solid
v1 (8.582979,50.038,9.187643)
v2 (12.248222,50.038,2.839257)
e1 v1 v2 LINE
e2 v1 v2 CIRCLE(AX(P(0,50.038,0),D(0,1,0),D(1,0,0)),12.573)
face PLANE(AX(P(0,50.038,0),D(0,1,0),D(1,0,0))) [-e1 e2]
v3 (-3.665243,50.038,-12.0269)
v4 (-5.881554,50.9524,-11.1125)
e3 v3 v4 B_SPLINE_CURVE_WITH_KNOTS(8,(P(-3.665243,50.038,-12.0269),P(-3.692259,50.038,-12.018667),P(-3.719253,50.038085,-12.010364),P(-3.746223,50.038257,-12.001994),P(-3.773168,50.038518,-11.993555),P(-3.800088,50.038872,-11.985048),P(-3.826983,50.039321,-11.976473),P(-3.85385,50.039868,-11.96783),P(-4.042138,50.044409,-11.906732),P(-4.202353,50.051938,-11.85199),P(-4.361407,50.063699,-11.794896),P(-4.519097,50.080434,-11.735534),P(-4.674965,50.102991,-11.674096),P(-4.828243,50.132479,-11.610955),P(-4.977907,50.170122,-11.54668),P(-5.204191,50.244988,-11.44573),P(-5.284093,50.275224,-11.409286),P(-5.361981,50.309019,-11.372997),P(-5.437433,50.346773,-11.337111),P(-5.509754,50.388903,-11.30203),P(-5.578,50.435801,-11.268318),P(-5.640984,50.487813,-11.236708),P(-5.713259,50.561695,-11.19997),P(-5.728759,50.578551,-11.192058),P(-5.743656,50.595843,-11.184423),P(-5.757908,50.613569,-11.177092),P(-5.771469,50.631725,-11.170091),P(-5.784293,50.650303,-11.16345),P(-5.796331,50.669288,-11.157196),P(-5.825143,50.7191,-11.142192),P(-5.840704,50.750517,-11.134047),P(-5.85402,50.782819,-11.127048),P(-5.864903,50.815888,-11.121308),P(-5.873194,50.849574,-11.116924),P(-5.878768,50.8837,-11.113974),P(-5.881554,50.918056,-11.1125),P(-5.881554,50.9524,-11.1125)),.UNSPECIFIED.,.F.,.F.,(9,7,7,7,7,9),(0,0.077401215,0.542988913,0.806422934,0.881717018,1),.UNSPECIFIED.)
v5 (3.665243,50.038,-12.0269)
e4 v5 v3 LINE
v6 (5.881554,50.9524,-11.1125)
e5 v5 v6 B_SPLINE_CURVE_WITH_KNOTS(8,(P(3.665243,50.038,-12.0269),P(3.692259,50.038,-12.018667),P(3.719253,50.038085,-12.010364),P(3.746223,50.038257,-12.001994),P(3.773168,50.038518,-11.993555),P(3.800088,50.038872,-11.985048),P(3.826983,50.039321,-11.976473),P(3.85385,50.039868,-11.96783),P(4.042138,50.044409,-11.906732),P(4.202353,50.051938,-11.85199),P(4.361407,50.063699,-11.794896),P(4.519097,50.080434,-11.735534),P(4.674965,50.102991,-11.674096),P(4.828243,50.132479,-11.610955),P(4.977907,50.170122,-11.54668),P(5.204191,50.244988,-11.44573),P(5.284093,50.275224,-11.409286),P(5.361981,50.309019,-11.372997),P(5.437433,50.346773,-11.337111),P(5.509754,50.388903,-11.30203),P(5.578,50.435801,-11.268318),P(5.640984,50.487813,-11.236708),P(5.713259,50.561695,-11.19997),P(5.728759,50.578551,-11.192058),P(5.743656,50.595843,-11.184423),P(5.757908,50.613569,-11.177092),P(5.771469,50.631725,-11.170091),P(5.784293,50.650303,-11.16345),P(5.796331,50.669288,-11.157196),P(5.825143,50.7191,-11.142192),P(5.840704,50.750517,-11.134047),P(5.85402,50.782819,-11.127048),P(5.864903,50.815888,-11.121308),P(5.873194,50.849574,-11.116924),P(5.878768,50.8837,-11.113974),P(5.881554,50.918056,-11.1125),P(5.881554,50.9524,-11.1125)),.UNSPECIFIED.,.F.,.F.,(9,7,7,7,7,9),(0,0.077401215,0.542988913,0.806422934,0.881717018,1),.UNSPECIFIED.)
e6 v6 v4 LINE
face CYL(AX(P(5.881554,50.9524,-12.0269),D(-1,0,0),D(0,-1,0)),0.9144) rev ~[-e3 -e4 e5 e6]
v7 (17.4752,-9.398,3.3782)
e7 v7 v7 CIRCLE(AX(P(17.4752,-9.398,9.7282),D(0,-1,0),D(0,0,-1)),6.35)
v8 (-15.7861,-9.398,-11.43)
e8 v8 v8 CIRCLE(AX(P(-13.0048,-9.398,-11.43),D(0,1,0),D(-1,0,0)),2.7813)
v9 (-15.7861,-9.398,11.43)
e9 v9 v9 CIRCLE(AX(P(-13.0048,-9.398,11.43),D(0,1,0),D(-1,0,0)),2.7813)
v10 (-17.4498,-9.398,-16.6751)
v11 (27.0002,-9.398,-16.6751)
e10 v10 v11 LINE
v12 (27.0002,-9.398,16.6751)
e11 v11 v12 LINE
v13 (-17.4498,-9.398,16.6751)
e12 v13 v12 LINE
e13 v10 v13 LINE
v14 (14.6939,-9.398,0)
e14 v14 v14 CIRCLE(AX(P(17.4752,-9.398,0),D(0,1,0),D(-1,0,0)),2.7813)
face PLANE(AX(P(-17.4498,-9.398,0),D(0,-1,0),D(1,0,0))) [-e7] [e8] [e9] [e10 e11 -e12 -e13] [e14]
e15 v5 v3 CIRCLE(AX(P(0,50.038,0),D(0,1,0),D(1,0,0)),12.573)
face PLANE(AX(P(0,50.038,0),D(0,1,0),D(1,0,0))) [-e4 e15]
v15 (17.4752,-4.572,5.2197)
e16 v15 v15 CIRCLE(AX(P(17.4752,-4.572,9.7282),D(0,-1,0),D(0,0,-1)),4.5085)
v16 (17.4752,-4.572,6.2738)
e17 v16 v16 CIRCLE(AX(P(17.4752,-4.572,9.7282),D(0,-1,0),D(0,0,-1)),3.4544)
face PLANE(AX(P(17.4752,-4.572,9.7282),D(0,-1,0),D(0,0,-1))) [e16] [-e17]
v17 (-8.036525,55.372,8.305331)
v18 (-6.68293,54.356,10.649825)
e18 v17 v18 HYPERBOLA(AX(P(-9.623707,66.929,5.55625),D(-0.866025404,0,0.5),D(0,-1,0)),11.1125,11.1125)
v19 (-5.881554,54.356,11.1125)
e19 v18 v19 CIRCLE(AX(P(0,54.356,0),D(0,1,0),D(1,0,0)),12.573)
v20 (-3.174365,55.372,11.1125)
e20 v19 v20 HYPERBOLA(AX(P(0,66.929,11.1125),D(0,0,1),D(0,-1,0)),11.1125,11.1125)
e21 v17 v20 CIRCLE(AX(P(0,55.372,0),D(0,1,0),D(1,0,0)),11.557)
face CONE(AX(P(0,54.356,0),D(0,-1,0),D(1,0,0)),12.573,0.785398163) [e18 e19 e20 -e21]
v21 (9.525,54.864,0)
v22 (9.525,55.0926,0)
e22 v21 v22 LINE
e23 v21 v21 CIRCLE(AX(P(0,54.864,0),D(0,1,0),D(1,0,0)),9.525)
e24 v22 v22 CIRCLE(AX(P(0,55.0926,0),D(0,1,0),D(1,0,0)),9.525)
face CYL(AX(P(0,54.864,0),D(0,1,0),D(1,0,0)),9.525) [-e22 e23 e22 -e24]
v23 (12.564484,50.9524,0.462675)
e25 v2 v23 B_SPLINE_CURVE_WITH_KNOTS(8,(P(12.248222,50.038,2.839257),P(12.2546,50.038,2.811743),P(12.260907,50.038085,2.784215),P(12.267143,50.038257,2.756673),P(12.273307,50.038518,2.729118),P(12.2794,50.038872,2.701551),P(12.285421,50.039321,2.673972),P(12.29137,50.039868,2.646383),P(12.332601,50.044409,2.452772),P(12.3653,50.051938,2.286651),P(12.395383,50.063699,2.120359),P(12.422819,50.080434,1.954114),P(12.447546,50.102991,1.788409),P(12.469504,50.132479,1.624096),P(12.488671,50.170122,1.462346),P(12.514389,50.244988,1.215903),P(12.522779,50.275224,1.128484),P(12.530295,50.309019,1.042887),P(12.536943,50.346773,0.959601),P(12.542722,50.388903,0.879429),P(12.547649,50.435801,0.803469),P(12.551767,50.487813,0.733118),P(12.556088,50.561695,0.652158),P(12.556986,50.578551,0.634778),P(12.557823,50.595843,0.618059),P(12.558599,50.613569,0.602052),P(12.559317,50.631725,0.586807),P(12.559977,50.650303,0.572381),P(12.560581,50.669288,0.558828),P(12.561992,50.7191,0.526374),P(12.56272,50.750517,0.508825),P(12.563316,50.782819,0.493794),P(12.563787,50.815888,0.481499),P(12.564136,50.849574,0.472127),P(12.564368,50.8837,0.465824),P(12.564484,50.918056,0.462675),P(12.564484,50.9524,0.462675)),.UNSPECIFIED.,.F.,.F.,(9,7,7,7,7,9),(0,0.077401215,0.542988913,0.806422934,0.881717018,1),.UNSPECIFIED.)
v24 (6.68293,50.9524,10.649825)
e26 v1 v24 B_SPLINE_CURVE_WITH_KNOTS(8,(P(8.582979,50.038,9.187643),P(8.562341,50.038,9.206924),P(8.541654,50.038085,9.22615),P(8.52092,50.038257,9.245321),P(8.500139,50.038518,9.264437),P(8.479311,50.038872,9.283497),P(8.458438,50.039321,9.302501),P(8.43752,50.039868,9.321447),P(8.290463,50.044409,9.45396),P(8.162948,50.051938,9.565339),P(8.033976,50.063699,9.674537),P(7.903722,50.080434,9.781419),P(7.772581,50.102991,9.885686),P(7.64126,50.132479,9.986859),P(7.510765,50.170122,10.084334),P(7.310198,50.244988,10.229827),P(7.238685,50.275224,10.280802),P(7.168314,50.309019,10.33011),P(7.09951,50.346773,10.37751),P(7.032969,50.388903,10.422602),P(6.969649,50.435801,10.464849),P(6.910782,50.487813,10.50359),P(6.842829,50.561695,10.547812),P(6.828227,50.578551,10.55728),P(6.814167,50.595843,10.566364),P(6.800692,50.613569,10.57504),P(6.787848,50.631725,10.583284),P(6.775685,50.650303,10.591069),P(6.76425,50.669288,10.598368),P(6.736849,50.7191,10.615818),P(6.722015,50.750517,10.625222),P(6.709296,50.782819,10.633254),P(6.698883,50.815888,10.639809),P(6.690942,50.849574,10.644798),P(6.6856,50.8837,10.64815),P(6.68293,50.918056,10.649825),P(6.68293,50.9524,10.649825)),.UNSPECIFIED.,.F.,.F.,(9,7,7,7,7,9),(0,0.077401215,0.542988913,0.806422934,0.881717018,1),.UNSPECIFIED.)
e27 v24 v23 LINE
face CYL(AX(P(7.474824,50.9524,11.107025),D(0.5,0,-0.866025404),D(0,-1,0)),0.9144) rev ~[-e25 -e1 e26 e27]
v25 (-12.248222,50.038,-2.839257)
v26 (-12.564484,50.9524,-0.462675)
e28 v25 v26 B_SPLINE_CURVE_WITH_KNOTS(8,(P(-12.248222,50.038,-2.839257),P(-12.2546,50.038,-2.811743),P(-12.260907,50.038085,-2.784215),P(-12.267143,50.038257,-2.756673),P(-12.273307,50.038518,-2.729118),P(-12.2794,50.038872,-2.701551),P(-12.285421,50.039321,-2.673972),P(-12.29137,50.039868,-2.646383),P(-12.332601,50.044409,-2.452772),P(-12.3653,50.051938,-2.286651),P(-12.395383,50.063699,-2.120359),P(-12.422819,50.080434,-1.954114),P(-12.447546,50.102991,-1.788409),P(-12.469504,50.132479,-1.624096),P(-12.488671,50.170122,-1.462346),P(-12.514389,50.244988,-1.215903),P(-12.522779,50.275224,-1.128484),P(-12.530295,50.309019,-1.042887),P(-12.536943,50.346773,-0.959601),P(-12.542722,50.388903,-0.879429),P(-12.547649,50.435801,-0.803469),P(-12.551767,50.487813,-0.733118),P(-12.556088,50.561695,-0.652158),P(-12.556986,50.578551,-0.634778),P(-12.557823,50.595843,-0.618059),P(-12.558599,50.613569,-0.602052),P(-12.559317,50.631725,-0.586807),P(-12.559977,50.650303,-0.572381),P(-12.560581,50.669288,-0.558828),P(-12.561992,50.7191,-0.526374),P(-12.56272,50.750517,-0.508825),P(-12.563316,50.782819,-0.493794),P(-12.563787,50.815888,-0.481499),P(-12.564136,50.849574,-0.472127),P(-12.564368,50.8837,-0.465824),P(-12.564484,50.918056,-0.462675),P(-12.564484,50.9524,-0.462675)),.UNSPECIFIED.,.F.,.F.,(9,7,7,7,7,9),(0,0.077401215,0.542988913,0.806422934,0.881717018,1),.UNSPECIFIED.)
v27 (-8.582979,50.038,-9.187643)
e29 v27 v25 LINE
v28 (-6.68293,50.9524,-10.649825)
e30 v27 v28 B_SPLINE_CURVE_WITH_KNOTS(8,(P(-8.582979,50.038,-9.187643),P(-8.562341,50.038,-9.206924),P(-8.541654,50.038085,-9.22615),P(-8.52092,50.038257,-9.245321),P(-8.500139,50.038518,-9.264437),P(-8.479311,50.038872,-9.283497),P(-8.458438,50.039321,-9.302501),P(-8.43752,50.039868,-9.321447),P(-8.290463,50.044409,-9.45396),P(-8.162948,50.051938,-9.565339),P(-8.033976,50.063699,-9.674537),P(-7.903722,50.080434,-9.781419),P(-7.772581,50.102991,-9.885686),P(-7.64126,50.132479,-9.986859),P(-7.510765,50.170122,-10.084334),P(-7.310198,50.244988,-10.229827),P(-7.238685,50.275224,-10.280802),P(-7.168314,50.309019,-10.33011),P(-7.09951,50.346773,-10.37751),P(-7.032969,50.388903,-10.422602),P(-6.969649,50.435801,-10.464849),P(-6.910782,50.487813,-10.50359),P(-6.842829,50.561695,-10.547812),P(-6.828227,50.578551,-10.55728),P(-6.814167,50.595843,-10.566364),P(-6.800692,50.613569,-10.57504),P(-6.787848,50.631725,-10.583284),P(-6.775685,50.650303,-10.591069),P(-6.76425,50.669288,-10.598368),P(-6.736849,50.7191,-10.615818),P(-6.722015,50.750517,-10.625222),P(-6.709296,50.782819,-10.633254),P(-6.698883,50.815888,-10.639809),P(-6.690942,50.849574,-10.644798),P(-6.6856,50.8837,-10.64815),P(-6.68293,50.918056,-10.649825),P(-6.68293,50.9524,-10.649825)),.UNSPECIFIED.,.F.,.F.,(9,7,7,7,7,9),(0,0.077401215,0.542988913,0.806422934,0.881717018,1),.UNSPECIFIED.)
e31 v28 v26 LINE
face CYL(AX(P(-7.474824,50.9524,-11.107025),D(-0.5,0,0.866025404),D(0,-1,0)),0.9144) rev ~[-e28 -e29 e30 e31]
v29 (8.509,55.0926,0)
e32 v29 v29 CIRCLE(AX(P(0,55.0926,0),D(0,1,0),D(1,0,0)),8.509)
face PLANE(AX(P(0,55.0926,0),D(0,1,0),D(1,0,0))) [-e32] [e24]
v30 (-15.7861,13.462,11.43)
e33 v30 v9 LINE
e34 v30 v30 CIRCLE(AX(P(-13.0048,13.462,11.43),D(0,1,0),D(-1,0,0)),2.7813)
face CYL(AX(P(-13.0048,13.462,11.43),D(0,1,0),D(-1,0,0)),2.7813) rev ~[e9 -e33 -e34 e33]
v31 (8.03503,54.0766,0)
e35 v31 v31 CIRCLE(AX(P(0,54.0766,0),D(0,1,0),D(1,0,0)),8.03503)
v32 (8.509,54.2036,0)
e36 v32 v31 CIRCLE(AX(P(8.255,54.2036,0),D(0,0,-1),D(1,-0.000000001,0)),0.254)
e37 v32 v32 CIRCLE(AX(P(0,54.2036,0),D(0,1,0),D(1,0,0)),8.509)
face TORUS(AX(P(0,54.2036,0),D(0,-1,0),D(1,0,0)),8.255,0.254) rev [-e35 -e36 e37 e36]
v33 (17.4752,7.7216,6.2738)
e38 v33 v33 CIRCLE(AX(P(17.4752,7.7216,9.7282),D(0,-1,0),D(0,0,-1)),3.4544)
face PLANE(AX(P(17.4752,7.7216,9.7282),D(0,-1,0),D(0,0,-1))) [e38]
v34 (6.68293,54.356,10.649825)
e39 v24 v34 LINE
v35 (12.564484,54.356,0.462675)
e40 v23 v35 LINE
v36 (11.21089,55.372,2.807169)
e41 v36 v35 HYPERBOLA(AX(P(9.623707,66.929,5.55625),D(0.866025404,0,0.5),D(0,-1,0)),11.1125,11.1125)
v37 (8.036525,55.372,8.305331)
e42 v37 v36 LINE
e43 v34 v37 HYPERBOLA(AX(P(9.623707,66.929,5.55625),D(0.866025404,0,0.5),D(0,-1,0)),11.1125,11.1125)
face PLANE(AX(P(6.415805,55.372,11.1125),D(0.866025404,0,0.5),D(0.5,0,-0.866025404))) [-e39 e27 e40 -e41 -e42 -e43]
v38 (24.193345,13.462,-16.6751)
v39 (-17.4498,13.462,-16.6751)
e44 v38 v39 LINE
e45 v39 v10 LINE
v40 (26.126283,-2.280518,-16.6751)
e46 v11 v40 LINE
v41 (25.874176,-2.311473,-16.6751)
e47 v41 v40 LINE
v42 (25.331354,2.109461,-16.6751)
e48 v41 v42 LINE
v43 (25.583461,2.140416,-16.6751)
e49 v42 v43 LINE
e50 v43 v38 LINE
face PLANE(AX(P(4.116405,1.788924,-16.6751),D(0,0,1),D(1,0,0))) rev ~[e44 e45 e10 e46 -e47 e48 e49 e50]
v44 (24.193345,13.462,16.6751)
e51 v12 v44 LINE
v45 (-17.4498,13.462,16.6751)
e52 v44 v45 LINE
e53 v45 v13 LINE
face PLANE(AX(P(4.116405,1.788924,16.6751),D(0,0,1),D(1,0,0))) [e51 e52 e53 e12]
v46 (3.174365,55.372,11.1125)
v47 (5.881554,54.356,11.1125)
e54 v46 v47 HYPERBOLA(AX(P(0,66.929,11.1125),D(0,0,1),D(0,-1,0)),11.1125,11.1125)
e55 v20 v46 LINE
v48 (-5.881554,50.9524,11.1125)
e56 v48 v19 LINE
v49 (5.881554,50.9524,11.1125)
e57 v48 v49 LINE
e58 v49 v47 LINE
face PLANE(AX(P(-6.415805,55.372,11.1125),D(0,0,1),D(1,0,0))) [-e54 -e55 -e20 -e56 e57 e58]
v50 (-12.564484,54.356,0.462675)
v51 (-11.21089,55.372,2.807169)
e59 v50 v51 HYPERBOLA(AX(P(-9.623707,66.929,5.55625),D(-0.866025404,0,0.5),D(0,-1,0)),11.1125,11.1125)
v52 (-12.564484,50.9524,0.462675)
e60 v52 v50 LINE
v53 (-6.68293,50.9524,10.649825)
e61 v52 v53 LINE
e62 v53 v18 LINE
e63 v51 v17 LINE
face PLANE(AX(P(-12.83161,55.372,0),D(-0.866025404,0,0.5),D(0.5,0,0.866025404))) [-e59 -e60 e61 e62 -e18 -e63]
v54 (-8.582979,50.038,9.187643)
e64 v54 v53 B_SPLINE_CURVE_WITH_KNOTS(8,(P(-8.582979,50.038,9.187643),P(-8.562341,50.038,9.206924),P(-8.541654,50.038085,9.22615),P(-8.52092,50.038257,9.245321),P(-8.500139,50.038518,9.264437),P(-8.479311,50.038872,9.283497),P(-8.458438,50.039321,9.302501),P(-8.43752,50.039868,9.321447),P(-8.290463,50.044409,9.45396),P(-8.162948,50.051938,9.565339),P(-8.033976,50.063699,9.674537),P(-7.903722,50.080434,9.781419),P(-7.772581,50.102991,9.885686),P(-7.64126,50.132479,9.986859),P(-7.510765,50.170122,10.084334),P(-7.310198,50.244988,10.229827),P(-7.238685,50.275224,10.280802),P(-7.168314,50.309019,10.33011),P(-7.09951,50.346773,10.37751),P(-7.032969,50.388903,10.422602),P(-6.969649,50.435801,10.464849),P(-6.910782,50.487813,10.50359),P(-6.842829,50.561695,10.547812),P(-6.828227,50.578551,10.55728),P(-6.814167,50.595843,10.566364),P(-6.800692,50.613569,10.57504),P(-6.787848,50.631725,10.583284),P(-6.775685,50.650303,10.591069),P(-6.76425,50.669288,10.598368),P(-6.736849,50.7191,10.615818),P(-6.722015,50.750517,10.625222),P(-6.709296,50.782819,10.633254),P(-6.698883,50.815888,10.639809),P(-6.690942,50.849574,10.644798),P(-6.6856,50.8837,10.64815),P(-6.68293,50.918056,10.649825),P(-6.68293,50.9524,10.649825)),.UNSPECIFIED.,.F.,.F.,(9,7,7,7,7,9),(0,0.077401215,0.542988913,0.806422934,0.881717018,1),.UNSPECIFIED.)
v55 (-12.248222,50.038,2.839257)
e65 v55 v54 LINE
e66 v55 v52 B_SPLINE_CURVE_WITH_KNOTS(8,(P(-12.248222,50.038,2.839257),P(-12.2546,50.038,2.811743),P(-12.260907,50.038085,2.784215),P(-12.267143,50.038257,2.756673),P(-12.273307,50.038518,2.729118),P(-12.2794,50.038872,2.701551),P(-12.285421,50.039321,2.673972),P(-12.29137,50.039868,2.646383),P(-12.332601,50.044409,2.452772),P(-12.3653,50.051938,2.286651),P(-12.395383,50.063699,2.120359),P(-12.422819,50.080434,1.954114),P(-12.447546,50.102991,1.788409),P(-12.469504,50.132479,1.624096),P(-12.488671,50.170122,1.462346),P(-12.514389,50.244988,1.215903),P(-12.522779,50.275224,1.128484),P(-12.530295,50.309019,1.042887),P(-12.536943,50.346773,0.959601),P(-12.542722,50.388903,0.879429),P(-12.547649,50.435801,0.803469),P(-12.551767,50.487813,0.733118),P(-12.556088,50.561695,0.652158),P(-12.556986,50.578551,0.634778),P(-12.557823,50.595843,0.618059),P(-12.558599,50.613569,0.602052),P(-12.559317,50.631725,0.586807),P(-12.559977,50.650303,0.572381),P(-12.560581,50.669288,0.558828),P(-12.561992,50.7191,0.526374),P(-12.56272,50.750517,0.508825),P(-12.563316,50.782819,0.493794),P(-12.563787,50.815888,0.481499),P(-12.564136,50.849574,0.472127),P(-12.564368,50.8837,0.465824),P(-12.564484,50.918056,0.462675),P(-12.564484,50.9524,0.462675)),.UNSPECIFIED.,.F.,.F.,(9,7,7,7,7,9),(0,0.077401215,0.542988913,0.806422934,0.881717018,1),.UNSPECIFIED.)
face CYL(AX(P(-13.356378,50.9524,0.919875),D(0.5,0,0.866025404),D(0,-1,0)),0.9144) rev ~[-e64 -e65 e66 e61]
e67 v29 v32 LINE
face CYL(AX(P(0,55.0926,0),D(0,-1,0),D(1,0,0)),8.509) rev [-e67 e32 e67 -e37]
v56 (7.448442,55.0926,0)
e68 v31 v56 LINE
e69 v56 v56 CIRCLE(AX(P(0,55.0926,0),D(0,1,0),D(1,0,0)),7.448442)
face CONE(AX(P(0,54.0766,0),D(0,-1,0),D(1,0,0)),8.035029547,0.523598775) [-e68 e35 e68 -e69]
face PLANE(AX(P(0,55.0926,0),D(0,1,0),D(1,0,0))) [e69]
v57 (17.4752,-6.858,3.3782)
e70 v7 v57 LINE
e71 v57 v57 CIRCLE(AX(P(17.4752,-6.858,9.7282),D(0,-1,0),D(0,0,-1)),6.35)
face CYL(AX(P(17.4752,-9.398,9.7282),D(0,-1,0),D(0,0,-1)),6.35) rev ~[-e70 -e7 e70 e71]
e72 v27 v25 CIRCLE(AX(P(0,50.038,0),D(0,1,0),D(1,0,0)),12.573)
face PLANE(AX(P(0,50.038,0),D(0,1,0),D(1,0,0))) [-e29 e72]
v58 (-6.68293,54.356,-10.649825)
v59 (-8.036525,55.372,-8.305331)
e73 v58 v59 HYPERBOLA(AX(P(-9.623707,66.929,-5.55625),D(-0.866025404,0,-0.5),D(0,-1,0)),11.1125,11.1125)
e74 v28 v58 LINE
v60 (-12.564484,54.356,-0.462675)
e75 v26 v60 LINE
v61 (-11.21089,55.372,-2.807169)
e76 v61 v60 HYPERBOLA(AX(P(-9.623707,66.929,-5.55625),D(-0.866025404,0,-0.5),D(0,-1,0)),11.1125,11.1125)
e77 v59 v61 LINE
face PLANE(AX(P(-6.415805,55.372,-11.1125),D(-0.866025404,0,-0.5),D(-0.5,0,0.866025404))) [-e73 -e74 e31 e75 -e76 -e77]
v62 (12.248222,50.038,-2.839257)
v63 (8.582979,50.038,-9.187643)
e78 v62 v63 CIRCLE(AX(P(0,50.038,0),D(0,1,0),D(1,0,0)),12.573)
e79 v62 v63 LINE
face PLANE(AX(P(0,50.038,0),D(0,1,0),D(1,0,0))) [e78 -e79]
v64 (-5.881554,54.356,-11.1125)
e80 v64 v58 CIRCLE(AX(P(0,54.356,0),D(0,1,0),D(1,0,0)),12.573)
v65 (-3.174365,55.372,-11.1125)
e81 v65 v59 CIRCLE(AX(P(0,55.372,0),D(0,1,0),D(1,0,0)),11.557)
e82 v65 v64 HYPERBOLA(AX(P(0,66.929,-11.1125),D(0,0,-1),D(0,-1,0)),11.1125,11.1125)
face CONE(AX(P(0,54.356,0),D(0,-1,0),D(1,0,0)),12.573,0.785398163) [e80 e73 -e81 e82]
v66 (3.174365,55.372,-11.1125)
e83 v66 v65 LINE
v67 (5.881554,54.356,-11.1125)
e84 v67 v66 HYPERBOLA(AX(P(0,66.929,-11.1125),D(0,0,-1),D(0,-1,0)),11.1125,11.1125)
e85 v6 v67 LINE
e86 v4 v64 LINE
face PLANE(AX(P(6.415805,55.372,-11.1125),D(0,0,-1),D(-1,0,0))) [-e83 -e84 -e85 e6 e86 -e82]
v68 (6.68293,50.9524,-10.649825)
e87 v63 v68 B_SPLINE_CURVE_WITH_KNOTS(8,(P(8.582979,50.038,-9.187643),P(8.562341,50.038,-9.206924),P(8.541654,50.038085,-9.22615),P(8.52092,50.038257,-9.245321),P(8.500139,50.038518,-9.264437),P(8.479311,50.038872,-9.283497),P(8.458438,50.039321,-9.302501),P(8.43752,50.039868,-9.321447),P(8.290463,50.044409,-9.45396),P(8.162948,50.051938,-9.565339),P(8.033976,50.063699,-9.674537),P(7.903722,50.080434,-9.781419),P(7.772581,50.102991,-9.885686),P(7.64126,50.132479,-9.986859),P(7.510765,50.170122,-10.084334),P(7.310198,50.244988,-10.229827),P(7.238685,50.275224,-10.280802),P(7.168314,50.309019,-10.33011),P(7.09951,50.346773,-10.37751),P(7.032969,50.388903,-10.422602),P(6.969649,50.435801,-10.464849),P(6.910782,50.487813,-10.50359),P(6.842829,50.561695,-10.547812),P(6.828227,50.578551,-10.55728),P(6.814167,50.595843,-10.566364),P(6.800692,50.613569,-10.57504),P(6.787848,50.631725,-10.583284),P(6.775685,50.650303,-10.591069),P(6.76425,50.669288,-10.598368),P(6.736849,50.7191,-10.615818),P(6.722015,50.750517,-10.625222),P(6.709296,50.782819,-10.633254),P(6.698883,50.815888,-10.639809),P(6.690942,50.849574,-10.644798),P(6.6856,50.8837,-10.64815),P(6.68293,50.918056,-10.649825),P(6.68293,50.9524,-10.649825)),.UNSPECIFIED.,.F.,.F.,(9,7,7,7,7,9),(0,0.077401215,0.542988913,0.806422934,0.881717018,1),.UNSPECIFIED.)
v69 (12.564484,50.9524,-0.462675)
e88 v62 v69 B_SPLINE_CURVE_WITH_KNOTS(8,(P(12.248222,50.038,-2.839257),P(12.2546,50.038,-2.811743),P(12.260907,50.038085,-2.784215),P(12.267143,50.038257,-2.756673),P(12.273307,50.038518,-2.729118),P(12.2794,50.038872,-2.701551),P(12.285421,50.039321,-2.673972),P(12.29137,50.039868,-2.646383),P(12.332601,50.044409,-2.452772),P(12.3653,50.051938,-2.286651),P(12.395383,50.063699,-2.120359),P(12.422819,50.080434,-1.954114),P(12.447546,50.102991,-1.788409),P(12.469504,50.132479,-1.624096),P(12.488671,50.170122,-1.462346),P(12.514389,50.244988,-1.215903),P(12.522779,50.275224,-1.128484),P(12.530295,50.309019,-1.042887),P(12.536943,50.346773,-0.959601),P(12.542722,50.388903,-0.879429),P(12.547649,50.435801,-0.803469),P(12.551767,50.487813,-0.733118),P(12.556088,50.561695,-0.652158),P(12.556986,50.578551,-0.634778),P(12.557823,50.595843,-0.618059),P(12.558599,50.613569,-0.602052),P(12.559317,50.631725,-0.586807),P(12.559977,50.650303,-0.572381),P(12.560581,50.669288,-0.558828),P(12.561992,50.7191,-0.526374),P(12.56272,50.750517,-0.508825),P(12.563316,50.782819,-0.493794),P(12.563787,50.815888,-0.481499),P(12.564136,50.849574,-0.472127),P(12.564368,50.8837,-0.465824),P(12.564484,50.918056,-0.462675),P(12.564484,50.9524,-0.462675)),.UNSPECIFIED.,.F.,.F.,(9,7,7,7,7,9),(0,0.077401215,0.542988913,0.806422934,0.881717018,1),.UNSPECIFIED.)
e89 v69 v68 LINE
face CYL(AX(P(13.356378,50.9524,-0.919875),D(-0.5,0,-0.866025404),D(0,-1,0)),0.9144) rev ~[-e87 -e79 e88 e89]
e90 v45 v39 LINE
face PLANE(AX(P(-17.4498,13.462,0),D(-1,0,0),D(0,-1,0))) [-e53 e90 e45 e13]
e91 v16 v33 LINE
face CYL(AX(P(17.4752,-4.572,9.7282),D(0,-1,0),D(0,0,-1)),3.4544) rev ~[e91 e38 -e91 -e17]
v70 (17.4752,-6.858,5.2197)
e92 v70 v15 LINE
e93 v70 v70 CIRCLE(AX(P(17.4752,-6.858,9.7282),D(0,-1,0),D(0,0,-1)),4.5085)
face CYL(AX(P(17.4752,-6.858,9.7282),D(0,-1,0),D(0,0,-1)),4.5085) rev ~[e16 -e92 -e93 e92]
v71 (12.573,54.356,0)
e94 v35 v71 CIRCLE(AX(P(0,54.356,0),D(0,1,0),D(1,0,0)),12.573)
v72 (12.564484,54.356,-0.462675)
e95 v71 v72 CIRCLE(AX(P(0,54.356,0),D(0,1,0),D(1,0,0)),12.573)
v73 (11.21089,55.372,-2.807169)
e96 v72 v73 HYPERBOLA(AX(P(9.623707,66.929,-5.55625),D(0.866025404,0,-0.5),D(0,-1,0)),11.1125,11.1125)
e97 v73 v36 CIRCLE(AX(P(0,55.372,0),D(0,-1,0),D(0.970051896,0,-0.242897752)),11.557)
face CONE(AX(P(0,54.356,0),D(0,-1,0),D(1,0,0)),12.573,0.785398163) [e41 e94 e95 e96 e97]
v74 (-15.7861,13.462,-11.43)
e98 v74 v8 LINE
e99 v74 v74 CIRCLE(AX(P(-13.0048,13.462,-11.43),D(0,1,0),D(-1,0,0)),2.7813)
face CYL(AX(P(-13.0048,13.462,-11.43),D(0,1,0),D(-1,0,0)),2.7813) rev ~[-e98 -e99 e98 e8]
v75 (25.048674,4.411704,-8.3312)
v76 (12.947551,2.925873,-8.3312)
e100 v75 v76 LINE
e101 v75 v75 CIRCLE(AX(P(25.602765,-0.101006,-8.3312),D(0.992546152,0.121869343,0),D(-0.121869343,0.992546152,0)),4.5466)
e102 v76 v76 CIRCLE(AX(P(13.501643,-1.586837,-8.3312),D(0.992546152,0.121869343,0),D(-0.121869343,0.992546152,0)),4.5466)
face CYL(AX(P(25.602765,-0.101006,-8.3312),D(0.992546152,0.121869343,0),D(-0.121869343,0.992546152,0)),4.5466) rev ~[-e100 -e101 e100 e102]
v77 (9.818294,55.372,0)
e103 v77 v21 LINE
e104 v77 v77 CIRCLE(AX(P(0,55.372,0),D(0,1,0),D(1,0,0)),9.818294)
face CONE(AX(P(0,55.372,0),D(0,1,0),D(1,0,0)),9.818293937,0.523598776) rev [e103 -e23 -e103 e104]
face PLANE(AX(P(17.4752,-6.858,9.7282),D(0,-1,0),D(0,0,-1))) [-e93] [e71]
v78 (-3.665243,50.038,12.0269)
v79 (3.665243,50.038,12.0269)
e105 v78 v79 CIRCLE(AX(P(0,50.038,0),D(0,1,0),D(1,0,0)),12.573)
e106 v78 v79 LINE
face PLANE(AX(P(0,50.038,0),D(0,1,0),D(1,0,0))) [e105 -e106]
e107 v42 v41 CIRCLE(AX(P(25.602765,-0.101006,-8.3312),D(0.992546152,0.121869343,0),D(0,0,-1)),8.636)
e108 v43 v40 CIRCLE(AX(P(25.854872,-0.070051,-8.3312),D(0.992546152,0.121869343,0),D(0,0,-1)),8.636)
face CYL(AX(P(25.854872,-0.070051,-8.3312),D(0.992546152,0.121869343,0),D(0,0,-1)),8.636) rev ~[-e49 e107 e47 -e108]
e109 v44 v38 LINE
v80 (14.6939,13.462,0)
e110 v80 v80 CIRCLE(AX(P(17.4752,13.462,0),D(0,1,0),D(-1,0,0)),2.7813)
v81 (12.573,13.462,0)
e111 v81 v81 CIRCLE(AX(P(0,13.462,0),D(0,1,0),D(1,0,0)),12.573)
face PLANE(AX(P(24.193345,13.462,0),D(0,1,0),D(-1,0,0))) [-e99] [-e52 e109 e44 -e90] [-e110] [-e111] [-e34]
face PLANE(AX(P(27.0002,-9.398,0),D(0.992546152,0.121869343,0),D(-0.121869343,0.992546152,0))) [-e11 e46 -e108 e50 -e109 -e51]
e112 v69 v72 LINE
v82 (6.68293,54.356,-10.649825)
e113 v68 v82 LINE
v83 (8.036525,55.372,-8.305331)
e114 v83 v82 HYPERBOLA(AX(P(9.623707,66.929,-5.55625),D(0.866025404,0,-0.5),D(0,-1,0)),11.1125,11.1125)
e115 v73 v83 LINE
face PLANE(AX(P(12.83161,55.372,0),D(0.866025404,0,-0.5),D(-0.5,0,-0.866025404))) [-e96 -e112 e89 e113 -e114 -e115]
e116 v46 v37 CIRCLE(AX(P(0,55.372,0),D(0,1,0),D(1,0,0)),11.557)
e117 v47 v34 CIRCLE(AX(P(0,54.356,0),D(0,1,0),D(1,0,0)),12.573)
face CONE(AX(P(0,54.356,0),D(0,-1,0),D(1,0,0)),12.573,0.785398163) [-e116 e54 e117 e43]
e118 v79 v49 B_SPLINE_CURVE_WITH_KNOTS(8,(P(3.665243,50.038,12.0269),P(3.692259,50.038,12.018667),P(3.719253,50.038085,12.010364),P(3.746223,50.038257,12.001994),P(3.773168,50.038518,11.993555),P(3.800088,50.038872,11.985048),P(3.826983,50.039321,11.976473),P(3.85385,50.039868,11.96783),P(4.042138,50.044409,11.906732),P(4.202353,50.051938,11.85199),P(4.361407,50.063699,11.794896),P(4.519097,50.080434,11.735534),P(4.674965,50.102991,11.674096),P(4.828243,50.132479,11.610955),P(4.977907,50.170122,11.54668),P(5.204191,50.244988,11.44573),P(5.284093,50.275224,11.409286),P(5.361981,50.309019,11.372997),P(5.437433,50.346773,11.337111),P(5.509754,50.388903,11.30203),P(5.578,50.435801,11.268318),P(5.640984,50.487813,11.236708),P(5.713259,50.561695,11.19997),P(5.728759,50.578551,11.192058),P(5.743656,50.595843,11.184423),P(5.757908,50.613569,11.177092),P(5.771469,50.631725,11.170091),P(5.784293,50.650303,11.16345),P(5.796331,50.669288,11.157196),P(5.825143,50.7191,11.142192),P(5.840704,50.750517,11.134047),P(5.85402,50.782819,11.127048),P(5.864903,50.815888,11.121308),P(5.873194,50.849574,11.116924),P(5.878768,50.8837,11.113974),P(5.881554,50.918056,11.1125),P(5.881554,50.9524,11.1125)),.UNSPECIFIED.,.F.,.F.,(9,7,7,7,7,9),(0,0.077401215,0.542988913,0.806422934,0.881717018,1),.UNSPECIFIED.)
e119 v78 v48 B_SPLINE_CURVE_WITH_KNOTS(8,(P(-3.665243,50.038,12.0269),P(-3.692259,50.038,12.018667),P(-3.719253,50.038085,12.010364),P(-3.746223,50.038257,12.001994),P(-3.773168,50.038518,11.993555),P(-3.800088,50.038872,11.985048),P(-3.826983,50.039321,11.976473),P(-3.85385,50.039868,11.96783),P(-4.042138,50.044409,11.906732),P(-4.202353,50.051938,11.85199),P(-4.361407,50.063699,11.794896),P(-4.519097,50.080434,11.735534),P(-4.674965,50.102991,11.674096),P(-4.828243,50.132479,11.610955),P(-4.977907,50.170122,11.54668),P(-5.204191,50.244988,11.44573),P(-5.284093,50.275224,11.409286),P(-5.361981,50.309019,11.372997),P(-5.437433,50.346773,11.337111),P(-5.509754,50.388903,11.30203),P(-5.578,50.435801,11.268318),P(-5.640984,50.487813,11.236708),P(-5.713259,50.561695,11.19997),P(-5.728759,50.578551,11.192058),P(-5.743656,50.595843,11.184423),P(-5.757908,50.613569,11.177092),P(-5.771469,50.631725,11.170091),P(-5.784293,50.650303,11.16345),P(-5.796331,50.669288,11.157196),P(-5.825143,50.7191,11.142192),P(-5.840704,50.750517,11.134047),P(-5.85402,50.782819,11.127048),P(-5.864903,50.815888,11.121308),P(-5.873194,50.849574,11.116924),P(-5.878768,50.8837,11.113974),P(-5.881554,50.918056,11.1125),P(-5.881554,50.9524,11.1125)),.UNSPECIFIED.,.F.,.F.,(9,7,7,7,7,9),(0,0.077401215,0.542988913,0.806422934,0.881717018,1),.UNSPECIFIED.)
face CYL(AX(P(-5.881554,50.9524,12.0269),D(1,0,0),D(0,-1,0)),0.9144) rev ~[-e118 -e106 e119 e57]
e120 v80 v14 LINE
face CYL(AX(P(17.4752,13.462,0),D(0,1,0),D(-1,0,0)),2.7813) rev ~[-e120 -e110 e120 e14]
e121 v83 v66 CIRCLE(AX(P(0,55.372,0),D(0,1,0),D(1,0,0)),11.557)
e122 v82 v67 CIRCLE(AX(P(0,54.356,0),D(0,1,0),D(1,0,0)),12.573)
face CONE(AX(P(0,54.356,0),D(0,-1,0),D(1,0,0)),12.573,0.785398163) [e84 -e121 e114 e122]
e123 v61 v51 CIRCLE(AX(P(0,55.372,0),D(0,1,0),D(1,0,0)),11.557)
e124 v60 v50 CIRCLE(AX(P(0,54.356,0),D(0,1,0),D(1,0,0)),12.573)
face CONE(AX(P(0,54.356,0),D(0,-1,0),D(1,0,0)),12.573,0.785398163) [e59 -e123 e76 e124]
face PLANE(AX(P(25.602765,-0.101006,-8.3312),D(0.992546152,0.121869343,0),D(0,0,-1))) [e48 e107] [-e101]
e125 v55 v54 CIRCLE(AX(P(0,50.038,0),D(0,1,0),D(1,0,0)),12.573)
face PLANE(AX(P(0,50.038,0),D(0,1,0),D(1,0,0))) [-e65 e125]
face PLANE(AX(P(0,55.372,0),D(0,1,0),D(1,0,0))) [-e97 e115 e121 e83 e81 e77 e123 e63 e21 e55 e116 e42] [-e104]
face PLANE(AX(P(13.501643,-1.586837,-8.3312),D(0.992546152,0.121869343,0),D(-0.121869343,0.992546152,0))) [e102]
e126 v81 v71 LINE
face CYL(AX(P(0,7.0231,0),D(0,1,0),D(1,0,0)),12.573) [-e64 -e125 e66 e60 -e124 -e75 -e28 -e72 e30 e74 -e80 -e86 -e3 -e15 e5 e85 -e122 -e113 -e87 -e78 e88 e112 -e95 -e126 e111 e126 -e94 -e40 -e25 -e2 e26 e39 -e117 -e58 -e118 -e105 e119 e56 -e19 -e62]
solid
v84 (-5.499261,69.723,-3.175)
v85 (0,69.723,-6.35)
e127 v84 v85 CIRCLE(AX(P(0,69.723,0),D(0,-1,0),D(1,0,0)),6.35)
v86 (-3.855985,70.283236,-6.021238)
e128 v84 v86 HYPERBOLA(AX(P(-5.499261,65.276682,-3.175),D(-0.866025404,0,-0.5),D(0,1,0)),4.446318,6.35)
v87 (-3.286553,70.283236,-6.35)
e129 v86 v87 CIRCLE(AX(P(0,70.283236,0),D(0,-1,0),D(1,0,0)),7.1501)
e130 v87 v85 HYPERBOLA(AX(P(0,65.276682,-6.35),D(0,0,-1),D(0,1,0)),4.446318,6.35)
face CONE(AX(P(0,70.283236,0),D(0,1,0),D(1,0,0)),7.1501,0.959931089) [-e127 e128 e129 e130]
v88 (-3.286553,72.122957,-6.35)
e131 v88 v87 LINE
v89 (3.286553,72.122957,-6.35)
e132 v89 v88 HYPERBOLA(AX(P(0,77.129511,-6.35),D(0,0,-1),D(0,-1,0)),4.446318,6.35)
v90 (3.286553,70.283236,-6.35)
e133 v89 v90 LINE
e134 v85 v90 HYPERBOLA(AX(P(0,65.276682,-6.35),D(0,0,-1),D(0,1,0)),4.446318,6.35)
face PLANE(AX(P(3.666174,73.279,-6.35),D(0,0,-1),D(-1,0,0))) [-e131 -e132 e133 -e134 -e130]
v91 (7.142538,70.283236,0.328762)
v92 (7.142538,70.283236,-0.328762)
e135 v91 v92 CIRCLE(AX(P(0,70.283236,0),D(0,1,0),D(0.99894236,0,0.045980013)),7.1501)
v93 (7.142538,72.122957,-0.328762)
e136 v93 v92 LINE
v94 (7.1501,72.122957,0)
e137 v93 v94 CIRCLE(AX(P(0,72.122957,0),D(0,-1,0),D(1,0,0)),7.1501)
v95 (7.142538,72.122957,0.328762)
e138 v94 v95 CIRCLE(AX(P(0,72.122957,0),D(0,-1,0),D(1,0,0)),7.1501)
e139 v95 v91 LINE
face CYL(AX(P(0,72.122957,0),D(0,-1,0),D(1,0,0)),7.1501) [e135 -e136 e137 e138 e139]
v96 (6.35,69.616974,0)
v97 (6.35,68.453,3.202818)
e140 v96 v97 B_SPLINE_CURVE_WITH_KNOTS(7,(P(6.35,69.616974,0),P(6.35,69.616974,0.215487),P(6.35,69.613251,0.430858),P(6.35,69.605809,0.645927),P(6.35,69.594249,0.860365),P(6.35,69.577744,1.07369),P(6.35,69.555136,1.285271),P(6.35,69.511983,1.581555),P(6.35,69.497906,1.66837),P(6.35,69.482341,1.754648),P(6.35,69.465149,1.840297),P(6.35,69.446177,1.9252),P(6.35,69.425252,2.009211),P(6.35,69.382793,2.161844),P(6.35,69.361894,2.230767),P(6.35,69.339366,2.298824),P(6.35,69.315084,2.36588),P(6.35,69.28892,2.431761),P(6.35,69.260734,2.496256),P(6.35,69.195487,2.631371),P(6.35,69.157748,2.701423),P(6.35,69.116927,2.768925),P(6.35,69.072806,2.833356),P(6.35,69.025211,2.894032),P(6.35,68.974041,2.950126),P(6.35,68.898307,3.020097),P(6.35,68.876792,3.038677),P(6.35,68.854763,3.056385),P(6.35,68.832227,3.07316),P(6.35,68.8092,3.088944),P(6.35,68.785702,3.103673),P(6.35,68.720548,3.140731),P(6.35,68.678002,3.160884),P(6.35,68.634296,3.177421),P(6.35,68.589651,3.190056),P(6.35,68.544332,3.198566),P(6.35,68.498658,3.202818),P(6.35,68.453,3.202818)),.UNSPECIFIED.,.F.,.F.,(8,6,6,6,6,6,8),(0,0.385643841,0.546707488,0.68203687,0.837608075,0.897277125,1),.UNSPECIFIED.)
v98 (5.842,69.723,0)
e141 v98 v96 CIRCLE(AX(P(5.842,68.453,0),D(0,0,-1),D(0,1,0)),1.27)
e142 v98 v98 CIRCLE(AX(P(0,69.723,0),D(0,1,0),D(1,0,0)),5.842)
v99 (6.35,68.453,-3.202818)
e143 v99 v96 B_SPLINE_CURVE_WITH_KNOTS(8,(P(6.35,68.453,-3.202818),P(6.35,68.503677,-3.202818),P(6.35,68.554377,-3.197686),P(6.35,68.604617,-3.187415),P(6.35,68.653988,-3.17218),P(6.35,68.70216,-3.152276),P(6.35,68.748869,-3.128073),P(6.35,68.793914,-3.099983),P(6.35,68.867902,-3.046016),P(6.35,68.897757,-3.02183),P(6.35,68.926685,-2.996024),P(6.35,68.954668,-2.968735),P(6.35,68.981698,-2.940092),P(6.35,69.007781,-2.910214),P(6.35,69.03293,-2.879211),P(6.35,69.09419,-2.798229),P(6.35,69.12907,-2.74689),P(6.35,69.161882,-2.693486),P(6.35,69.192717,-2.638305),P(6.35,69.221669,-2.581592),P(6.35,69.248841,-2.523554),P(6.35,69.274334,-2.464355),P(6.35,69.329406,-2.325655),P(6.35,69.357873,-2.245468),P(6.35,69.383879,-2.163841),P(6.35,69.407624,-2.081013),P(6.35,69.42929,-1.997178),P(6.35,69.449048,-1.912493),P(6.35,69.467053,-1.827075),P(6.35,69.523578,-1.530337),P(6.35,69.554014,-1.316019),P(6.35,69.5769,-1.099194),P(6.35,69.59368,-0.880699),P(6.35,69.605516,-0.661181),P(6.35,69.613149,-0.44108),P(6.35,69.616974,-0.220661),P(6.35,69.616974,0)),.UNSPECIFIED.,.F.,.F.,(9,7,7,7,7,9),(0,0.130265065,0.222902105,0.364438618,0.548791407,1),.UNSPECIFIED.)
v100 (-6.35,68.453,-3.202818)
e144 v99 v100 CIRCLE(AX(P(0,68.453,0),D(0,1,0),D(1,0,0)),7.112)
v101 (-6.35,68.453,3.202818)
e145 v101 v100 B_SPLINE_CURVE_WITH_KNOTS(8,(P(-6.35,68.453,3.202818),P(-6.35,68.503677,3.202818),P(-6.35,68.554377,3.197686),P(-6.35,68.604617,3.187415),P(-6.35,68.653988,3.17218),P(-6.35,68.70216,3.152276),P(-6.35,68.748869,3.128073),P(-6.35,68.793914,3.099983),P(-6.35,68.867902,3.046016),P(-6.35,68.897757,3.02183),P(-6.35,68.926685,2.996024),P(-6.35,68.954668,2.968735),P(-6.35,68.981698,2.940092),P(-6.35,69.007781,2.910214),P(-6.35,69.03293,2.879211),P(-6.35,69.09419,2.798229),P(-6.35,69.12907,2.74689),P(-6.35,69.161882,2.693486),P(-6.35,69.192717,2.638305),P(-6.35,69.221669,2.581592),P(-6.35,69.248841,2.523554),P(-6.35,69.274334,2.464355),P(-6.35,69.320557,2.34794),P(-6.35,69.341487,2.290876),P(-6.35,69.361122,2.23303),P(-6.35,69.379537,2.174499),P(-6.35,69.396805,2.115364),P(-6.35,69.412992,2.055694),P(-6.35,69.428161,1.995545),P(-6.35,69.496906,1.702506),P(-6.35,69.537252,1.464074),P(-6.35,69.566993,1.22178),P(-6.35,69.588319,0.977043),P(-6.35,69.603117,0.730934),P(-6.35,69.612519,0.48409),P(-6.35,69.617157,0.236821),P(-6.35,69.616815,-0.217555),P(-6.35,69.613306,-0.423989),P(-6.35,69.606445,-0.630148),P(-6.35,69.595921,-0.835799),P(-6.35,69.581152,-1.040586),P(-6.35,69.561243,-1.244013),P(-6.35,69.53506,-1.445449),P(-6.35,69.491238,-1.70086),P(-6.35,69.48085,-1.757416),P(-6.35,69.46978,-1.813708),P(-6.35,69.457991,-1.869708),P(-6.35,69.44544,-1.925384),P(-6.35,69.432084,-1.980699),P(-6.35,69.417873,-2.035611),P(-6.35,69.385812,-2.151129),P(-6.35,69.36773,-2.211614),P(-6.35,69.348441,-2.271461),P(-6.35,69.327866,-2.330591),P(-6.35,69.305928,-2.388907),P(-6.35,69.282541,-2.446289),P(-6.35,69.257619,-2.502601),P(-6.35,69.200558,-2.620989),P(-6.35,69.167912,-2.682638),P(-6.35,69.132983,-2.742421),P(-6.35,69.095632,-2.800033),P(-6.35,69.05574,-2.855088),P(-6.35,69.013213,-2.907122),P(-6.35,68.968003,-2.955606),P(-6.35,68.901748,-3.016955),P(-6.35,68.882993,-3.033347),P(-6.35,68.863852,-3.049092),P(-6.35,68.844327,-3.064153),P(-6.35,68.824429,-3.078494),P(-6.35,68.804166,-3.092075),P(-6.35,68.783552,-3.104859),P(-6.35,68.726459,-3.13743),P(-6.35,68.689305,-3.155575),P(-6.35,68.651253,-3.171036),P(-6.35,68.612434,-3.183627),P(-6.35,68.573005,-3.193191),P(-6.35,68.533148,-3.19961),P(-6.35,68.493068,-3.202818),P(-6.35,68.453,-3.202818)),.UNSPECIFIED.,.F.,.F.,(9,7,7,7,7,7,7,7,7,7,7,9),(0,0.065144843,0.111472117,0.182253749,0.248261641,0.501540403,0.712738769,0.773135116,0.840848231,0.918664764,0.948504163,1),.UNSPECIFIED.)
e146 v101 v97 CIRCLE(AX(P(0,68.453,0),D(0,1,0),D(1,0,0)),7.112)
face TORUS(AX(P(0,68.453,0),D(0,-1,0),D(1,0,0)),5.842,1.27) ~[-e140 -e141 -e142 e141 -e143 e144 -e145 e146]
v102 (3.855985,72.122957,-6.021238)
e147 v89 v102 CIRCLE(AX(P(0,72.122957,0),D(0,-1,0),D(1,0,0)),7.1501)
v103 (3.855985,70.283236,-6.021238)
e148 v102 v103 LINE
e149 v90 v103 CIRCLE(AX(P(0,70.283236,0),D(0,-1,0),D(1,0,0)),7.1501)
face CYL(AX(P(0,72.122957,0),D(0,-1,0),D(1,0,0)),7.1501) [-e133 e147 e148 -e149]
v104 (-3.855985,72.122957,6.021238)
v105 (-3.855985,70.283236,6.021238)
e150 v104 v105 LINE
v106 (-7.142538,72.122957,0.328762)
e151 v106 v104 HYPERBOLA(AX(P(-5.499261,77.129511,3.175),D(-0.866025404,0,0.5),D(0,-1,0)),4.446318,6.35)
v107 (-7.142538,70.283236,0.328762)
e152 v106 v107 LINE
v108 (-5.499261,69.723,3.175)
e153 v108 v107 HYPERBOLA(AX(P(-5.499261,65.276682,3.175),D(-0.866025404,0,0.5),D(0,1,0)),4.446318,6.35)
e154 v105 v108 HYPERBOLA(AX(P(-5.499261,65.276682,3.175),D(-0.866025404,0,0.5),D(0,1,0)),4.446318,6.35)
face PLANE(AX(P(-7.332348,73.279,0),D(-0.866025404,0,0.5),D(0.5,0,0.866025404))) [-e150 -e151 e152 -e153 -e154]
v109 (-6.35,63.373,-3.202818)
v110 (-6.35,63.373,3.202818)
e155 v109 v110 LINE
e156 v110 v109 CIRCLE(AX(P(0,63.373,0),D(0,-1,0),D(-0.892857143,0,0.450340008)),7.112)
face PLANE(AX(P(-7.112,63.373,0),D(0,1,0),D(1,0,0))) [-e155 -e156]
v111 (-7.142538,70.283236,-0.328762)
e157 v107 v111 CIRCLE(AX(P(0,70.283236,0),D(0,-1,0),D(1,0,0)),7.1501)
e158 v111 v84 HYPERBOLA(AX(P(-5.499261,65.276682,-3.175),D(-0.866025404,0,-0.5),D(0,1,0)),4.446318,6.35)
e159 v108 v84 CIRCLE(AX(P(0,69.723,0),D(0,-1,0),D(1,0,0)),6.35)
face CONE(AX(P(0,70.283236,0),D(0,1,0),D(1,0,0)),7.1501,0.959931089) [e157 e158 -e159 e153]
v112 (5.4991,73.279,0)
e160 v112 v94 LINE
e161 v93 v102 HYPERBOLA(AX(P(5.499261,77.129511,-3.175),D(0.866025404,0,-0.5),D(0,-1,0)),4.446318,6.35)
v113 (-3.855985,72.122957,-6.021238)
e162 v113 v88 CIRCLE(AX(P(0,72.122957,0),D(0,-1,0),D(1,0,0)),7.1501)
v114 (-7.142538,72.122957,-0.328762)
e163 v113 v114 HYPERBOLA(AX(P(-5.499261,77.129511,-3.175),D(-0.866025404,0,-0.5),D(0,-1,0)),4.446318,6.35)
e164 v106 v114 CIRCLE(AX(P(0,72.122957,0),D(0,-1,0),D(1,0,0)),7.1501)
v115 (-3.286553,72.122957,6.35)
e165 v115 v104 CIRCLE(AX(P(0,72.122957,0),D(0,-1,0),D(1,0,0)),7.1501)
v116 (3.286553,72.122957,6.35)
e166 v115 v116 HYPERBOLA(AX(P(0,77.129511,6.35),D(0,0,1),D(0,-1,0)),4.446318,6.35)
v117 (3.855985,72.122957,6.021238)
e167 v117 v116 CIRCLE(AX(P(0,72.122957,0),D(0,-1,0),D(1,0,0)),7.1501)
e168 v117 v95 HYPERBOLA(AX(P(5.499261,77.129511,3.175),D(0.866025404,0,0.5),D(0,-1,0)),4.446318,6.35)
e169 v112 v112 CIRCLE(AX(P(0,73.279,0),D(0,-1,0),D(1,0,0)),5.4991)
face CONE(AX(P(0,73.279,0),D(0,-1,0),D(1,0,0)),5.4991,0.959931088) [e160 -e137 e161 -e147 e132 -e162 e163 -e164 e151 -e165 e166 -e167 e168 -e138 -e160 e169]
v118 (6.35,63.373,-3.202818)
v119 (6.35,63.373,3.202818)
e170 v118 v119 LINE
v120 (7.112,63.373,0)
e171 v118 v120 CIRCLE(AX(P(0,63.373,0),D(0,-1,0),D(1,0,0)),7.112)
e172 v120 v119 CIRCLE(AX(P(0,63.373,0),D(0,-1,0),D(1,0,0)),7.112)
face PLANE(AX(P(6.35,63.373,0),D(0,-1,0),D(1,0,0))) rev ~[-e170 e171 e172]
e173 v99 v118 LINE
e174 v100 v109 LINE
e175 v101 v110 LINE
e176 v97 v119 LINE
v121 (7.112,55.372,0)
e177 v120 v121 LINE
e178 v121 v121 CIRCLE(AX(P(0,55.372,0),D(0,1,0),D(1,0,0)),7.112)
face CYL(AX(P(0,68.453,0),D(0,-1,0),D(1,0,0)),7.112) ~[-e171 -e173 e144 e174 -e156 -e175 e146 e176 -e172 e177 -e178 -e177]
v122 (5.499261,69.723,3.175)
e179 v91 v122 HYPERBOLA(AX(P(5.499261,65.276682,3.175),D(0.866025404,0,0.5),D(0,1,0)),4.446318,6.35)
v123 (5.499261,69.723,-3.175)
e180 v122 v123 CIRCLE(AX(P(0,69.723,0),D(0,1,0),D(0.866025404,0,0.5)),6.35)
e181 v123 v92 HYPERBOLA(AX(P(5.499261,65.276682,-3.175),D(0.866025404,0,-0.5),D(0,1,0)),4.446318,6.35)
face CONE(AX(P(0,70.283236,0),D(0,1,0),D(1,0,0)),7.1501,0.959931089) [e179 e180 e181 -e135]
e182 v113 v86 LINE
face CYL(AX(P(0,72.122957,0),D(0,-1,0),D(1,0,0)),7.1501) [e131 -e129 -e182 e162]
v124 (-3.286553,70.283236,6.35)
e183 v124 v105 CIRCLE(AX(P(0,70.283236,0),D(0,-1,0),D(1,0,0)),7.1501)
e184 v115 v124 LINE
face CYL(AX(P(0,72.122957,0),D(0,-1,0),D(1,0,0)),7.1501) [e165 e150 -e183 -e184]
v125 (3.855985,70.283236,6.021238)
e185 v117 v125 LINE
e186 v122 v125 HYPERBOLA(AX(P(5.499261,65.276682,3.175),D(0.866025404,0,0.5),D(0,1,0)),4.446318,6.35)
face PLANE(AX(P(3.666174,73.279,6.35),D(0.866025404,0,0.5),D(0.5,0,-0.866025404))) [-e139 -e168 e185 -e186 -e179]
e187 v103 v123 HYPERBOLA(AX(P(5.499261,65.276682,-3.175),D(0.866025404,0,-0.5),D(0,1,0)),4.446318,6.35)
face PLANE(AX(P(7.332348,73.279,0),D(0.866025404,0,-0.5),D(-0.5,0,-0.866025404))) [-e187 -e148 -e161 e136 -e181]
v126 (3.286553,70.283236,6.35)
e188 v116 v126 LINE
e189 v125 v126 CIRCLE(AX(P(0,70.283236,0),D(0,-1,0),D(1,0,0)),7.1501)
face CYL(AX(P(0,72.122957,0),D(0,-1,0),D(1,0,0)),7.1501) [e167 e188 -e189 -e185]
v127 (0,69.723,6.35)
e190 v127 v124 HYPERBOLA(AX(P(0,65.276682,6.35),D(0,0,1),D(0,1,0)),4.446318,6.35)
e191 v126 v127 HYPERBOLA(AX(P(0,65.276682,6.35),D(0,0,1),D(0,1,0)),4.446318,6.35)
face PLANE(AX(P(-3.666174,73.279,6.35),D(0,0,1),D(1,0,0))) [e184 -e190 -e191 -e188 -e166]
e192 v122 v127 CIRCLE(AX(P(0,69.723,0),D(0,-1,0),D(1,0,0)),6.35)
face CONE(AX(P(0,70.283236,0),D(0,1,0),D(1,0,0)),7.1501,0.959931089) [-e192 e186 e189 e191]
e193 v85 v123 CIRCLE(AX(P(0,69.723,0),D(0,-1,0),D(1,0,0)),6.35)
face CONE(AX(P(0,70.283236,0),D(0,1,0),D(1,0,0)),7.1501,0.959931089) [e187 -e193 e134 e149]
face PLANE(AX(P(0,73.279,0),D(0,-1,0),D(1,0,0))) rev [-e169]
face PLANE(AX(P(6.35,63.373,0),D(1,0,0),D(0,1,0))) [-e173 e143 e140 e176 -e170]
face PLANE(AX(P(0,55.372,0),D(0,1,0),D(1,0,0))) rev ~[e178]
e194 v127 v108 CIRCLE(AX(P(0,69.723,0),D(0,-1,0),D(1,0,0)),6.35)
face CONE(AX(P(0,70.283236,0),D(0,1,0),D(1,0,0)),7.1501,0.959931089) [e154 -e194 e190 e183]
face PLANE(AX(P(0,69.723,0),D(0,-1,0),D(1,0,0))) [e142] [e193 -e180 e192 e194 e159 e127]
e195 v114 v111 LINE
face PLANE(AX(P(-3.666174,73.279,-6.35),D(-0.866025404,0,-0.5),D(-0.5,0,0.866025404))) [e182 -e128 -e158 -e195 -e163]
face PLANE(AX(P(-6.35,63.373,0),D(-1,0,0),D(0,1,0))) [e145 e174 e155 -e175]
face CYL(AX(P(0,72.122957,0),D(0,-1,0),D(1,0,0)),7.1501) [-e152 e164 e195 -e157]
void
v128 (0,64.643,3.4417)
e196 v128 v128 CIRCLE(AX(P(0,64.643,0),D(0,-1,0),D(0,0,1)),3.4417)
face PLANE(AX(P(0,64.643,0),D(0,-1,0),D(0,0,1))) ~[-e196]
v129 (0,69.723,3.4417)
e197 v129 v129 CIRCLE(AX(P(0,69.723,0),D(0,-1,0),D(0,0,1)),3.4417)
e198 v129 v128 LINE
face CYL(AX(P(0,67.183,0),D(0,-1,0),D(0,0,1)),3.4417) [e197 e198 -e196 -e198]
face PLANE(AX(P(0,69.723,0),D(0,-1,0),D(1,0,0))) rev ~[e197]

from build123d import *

# Parameters (mm, degrees)
SKETCH2_OUTSIDE_W   = 40.384
SKETCH2_OUTSIDE_H   = 40.384
CUT_EXTRUDE1_DEPTH  = 5.334
FILLET1_R           = 0.9144
SKETCH4_W           = 0.762
SKETCH4_H           = 6.35
CUT_EXTRUDE2_DEPTH  = 11.1125
SKETCH5_W           = 3.4417
SKETCH5_H           = 5.08
SKETCH8_OUTSIDE_W   = 43.518
SKETCH8_OUTSIDE_H   = 43.518
CUT_EXTRUDE3_DEPTH  = 3.556
BOSS_EXTRUDE1_DEPTH = 16.6751
SKETCH10_R          = 2.7813
CUT_EXTRUDE4_DEPTH  = 33.3502
SKETCH11_R          = 8.636
CUT_EXTRUDE5_DEPTH  = 0.254
SKETCH12_R          = 4.5466
CUT_EXTRUDE6_DEPTH  = 12.192
SKETCH13_R          = 6.35
CUT_EXTRUDE7_DEPTH  = 2.54
SKETCH14_R          = 4.5085
CUT_EXTRUDE8_DEPTH  = 2.286
SKETCH15_R          = 3.4544
CUT_EXTRUDE9_DEPTH  = 12.2936


with BuildPart() as part:
    # Sketch1 → Revolve1 (revolve)
    with BuildSketch(Plane.XY):
        with BuildLine():
            Line((7.9375, 0), (8.7376, 0))
            Line((8.7376, 0), (9.1186, 0.381))
            Line((9.1186, 0.381), (10.9093, 0.381))
            Line((10.9093, 0.381), (11.6713, 1.143))
            Line((11.6713, 1.143), (11.6713, 6.1214))
            Line((11.6713, 6.1214), (12.573, 7.0231))
            Line((12.573, 7.0231), (12.573, 54.356))
            Line((12.573, 54.356), (11.557, 55.372))
            Line((11.557, 55.372), (9.818293937, 55.372))
            Line((9.818293937, 55.372), (9.525, 54.864))
            Line((9.525, 54.864), (9.525, 55.0926))
            Line((9.525, 55.0926), (8.509, 55.0926))
            Line((8.509, 55.0926), (8.509, 54.2036))
            ThreePointArc((8.509, 54.2036), (8.320740037, 53.95825484), (8.035029547, 54.0766))
            Line((8.035029547, 54.0766), (7.448441674, 55.0926))
            Line((7.448441674, 55.0926), (0, 55.0926))
            Line((0, 55.0926), (0, 5.1308))
            Line((0, 5.1308), (2.3876, 5.1308))
            Line((2.3876, 5.1308), (2.3876, 1.3208))
            Line((2.3876, 1.3208), (7.0485, 1.3208))
            ThreePointArc((7.0485, 1.3208), (6.419882072, -0.196817928), (7.9375, 0.4318))
            Line((7.9375, 0.4318), (7.9375, 0))
        make_face()
    revolve(axis=Axis((0, 0, 0), (0, 1, 0)))

    # Sketch2 outside → Cut-Extrude1 (cut)
    with BuildSketch(Plane(origin=(0, 55.372, 0), x_dir=(1, 0, 0), z_dir=(0, 1, 0))):
        Rectangle(SKETCH2_OUTSIDE_W, SKETCH2_OUTSIDE_H)
        Polygon((12.831609733, 0), (6.415804866, 11.1125), (-6.415804866, 11.1125), (-12.831609733, 0), (-6.415804866, -11.1125), (6.415804866, -11.1125), align=None, mode=Mode.SUBTRACT)
    extrude(amount=-CUT_EXTRUDE1_DEPTH, mode=Mode.SUBTRACT)

    # Fillet1
    fillet1_edges = [part.edges().sort_by_distance(p)[0] for p in [
        (-9.6237073, 50.038, -5.55625),
        (0, 50.038, -11.1125),
        (9.6237073, 50.038, -5.55625),
        (9.6237073, 50.038, 5.55625),
        (0, 50.038, 11.1125),
        (-9.6237073, 50.038, 5.55625),
    ]]
    fillet(fillet1_edges, radius=FILLET1_R)

    # Sketch9 → Boss-Extrude1 (add, symmetric)
    with BuildSketch(Plane.XY):
        Polygon((-17.4498, 13.462), (-17.4498, -9.398), (27.0002, -9.398), (24.193344938, 13.462), align=None)
    extrude(amount=BOSS_EXTRUDE1_DEPTH, both=True)

    # Sketch10 → Cut-Extrude4 (cut)
    with BuildSketch(Plane(origin=(0, 13.462, 0), x_dir=(1, 0, 0), z_dir=(0, 1, 0))):
        with Locations(Location((17.4752, 0, 0), (0, 0, 180))):  # turned: the seam where the file's is
            Circle(SKETCH10_R)
        with Locations(Location((-13.0048, 11.43, 0), (0, 0, 180))):  # turned: the seam where the file's is
            Circle(SKETCH10_R)
        with Locations(Location((-13.0048, -11.43, 0), (0, 0, 180))):  # turned: the seam where the file's is
            Circle(SKETCH10_R)
    extrude(amount=-CUT_EXTRUDE4_DEPTH, mode=Mode.SUBTRACT)

    # Sketch11 → Cut-Extrude5 (cut)
    with BuildSketch(Plane(origin=(25.462398347, 3.126389401, 0), x_dir=(0, 0, -1), z_dir=(0.992546152, 0.121869343, 0))):
        with Locations((8.3312, -3.220445379)):
            Circle(SKETCH11_R)
    extrude(amount=-CUT_EXTRUDE5_DEPTH, mode=Mode.SUBTRACT)

    # Sketch12 → Cut-Extrude6 (cut)
    with BuildSketch(Plane(origin=(25.210291624, 3.095434587, 0), x_dir=(0, 0, -1), z_dir=(0.992546152, 0.121869343, 0))):
        with Locations(Location((8.3312, -3.220445379, 0), (0, 0, 90))):  # turned: the seam where the file's is
            Circle(SKETCH12_R)
    extrude(amount=-CUT_EXTRUDE6_DEPTH, mode=Mode.SUBTRACT)

    # Sketch13 → Cut-Extrude7 (cut)
    with BuildSketch(Plane.XZ.offset(9.398)):
        with Locations(Location((17.4752, 9.7282, 0), (0, 0, 270))):  # turned: the seam where the file's is
            Circle(SKETCH13_R)
    extrude(amount=-CUT_EXTRUDE7_DEPTH, mode=Mode.SUBTRACT)

    # Sketch14 → Cut-Extrude8 (cut)
    with BuildSketch(Plane.XZ.offset(6.858)):
        with Locations(Location((17.4752, 9.7282, 0), (0, 0, 270))):  # turned: the seam where the file's is
            Circle(SKETCH14_R)
    extrude(amount=-CUT_EXTRUDE8_DEPTH, mode=Mode.SUBTRACT)

    # Sketch15 → Cut-Extrude9 (cut)
    with BuildSketch(Plane.XZ.offset(4.572)):
        with Locations(Location((17.4752, 9.7282, 0), (0, 0, 270))):  # turned: the seam where the file's is
            Circle(SKETCH15_R)
    extrude(amount=-CUT_EXTRUDE9_DEPTH, mode=Mode.SUBTRACT)


with BuildPart() as body_2:
    # Sketch3 → Revolve2 (revolve)
    with BuildSketch(Plane.XY):
        with BuildLine():
            Line((0, 55.372), (0, 69.723))
            Line((0, 69.723), (5.842, 69.723))
            ThreePointArc((5.842, 69.723), (6.740025612, 69.351025612), (7.112, 68.453))
            Line((7.112, 68.453), (7.112, 55.372))
            Line((7.112, 55.372), (0, 55.372))
        make_face()
    revolve(axis=Axis((0, 43.688, 0), (0, 1, 0)))

    # Sketch4 → Cut-Extrude2 (cut, symmetric)
    with BuildSketch(Plane.XY):
        with Locations((-6.731, 66.548)):
            Rectangle(SKETCH4_W, SKETCH4_H)
        with Locations((6.731, 66.548)):
            Rectangle(SKETCH4_W, SKETCH4_H)
    extrude(amount=CUT_EXTRUDE2_DEPTH, both=True, mode=Mode.SUBTRACT)

    # Sketch5 → 5_16-18 Tapped Hole1 (revolve, cut)
    with BuildSketch(Plane(origin=(0, 69.723, 0), x_dir=(0, 0, 1), z_dir=(1, 0, 0))):
        with Locations((1.72085, 2.54)):
            Rectangle(SKETCH5_W, SKETCH5_H)
    revolve(axis=Axis((0, 76.073, 0), (0, -1, 0)), mode=Mode.SUBTRACT)

    # Sketch7 → Revolve3 (revolve)
    with BuildSketch(Plane.XY):
        Polygon((0, 73.279), (5.4991, 73.279), (7.1501, 72.122957354), (7.1501, 70.283236051), (6.35, 69.723), (0, 69.723), align=None)
    revolve(axis=Axis((0, 0, 0), (0, -1, 0)))

    # Sketch8 outside → Cut-Extrude3 (cut)
    with BuildSketch(Plane(origin=(0, 73.279, 0), x_dir=(1, 0, 0), z_dir=(0, 1, 0))):
        Rectangle(SKETCH8_OUTSIDE_W, SKETCH8_OUTSIDE_H)
        Polygon((7.332348419, 0), (3.666174209, 6.35), (-3.666174209, 6.35), (-7.332348419, 0), (-3.666174209, -6.35), (3.666174209, -6.35), align=None, mode=Mode.SUBTRACT)
    extrude(amount=-CUT_EXTRUDE3_DEPTH, mode=Mode.SUBTRACT)


solid = Compound([part.part, body_2.part])
